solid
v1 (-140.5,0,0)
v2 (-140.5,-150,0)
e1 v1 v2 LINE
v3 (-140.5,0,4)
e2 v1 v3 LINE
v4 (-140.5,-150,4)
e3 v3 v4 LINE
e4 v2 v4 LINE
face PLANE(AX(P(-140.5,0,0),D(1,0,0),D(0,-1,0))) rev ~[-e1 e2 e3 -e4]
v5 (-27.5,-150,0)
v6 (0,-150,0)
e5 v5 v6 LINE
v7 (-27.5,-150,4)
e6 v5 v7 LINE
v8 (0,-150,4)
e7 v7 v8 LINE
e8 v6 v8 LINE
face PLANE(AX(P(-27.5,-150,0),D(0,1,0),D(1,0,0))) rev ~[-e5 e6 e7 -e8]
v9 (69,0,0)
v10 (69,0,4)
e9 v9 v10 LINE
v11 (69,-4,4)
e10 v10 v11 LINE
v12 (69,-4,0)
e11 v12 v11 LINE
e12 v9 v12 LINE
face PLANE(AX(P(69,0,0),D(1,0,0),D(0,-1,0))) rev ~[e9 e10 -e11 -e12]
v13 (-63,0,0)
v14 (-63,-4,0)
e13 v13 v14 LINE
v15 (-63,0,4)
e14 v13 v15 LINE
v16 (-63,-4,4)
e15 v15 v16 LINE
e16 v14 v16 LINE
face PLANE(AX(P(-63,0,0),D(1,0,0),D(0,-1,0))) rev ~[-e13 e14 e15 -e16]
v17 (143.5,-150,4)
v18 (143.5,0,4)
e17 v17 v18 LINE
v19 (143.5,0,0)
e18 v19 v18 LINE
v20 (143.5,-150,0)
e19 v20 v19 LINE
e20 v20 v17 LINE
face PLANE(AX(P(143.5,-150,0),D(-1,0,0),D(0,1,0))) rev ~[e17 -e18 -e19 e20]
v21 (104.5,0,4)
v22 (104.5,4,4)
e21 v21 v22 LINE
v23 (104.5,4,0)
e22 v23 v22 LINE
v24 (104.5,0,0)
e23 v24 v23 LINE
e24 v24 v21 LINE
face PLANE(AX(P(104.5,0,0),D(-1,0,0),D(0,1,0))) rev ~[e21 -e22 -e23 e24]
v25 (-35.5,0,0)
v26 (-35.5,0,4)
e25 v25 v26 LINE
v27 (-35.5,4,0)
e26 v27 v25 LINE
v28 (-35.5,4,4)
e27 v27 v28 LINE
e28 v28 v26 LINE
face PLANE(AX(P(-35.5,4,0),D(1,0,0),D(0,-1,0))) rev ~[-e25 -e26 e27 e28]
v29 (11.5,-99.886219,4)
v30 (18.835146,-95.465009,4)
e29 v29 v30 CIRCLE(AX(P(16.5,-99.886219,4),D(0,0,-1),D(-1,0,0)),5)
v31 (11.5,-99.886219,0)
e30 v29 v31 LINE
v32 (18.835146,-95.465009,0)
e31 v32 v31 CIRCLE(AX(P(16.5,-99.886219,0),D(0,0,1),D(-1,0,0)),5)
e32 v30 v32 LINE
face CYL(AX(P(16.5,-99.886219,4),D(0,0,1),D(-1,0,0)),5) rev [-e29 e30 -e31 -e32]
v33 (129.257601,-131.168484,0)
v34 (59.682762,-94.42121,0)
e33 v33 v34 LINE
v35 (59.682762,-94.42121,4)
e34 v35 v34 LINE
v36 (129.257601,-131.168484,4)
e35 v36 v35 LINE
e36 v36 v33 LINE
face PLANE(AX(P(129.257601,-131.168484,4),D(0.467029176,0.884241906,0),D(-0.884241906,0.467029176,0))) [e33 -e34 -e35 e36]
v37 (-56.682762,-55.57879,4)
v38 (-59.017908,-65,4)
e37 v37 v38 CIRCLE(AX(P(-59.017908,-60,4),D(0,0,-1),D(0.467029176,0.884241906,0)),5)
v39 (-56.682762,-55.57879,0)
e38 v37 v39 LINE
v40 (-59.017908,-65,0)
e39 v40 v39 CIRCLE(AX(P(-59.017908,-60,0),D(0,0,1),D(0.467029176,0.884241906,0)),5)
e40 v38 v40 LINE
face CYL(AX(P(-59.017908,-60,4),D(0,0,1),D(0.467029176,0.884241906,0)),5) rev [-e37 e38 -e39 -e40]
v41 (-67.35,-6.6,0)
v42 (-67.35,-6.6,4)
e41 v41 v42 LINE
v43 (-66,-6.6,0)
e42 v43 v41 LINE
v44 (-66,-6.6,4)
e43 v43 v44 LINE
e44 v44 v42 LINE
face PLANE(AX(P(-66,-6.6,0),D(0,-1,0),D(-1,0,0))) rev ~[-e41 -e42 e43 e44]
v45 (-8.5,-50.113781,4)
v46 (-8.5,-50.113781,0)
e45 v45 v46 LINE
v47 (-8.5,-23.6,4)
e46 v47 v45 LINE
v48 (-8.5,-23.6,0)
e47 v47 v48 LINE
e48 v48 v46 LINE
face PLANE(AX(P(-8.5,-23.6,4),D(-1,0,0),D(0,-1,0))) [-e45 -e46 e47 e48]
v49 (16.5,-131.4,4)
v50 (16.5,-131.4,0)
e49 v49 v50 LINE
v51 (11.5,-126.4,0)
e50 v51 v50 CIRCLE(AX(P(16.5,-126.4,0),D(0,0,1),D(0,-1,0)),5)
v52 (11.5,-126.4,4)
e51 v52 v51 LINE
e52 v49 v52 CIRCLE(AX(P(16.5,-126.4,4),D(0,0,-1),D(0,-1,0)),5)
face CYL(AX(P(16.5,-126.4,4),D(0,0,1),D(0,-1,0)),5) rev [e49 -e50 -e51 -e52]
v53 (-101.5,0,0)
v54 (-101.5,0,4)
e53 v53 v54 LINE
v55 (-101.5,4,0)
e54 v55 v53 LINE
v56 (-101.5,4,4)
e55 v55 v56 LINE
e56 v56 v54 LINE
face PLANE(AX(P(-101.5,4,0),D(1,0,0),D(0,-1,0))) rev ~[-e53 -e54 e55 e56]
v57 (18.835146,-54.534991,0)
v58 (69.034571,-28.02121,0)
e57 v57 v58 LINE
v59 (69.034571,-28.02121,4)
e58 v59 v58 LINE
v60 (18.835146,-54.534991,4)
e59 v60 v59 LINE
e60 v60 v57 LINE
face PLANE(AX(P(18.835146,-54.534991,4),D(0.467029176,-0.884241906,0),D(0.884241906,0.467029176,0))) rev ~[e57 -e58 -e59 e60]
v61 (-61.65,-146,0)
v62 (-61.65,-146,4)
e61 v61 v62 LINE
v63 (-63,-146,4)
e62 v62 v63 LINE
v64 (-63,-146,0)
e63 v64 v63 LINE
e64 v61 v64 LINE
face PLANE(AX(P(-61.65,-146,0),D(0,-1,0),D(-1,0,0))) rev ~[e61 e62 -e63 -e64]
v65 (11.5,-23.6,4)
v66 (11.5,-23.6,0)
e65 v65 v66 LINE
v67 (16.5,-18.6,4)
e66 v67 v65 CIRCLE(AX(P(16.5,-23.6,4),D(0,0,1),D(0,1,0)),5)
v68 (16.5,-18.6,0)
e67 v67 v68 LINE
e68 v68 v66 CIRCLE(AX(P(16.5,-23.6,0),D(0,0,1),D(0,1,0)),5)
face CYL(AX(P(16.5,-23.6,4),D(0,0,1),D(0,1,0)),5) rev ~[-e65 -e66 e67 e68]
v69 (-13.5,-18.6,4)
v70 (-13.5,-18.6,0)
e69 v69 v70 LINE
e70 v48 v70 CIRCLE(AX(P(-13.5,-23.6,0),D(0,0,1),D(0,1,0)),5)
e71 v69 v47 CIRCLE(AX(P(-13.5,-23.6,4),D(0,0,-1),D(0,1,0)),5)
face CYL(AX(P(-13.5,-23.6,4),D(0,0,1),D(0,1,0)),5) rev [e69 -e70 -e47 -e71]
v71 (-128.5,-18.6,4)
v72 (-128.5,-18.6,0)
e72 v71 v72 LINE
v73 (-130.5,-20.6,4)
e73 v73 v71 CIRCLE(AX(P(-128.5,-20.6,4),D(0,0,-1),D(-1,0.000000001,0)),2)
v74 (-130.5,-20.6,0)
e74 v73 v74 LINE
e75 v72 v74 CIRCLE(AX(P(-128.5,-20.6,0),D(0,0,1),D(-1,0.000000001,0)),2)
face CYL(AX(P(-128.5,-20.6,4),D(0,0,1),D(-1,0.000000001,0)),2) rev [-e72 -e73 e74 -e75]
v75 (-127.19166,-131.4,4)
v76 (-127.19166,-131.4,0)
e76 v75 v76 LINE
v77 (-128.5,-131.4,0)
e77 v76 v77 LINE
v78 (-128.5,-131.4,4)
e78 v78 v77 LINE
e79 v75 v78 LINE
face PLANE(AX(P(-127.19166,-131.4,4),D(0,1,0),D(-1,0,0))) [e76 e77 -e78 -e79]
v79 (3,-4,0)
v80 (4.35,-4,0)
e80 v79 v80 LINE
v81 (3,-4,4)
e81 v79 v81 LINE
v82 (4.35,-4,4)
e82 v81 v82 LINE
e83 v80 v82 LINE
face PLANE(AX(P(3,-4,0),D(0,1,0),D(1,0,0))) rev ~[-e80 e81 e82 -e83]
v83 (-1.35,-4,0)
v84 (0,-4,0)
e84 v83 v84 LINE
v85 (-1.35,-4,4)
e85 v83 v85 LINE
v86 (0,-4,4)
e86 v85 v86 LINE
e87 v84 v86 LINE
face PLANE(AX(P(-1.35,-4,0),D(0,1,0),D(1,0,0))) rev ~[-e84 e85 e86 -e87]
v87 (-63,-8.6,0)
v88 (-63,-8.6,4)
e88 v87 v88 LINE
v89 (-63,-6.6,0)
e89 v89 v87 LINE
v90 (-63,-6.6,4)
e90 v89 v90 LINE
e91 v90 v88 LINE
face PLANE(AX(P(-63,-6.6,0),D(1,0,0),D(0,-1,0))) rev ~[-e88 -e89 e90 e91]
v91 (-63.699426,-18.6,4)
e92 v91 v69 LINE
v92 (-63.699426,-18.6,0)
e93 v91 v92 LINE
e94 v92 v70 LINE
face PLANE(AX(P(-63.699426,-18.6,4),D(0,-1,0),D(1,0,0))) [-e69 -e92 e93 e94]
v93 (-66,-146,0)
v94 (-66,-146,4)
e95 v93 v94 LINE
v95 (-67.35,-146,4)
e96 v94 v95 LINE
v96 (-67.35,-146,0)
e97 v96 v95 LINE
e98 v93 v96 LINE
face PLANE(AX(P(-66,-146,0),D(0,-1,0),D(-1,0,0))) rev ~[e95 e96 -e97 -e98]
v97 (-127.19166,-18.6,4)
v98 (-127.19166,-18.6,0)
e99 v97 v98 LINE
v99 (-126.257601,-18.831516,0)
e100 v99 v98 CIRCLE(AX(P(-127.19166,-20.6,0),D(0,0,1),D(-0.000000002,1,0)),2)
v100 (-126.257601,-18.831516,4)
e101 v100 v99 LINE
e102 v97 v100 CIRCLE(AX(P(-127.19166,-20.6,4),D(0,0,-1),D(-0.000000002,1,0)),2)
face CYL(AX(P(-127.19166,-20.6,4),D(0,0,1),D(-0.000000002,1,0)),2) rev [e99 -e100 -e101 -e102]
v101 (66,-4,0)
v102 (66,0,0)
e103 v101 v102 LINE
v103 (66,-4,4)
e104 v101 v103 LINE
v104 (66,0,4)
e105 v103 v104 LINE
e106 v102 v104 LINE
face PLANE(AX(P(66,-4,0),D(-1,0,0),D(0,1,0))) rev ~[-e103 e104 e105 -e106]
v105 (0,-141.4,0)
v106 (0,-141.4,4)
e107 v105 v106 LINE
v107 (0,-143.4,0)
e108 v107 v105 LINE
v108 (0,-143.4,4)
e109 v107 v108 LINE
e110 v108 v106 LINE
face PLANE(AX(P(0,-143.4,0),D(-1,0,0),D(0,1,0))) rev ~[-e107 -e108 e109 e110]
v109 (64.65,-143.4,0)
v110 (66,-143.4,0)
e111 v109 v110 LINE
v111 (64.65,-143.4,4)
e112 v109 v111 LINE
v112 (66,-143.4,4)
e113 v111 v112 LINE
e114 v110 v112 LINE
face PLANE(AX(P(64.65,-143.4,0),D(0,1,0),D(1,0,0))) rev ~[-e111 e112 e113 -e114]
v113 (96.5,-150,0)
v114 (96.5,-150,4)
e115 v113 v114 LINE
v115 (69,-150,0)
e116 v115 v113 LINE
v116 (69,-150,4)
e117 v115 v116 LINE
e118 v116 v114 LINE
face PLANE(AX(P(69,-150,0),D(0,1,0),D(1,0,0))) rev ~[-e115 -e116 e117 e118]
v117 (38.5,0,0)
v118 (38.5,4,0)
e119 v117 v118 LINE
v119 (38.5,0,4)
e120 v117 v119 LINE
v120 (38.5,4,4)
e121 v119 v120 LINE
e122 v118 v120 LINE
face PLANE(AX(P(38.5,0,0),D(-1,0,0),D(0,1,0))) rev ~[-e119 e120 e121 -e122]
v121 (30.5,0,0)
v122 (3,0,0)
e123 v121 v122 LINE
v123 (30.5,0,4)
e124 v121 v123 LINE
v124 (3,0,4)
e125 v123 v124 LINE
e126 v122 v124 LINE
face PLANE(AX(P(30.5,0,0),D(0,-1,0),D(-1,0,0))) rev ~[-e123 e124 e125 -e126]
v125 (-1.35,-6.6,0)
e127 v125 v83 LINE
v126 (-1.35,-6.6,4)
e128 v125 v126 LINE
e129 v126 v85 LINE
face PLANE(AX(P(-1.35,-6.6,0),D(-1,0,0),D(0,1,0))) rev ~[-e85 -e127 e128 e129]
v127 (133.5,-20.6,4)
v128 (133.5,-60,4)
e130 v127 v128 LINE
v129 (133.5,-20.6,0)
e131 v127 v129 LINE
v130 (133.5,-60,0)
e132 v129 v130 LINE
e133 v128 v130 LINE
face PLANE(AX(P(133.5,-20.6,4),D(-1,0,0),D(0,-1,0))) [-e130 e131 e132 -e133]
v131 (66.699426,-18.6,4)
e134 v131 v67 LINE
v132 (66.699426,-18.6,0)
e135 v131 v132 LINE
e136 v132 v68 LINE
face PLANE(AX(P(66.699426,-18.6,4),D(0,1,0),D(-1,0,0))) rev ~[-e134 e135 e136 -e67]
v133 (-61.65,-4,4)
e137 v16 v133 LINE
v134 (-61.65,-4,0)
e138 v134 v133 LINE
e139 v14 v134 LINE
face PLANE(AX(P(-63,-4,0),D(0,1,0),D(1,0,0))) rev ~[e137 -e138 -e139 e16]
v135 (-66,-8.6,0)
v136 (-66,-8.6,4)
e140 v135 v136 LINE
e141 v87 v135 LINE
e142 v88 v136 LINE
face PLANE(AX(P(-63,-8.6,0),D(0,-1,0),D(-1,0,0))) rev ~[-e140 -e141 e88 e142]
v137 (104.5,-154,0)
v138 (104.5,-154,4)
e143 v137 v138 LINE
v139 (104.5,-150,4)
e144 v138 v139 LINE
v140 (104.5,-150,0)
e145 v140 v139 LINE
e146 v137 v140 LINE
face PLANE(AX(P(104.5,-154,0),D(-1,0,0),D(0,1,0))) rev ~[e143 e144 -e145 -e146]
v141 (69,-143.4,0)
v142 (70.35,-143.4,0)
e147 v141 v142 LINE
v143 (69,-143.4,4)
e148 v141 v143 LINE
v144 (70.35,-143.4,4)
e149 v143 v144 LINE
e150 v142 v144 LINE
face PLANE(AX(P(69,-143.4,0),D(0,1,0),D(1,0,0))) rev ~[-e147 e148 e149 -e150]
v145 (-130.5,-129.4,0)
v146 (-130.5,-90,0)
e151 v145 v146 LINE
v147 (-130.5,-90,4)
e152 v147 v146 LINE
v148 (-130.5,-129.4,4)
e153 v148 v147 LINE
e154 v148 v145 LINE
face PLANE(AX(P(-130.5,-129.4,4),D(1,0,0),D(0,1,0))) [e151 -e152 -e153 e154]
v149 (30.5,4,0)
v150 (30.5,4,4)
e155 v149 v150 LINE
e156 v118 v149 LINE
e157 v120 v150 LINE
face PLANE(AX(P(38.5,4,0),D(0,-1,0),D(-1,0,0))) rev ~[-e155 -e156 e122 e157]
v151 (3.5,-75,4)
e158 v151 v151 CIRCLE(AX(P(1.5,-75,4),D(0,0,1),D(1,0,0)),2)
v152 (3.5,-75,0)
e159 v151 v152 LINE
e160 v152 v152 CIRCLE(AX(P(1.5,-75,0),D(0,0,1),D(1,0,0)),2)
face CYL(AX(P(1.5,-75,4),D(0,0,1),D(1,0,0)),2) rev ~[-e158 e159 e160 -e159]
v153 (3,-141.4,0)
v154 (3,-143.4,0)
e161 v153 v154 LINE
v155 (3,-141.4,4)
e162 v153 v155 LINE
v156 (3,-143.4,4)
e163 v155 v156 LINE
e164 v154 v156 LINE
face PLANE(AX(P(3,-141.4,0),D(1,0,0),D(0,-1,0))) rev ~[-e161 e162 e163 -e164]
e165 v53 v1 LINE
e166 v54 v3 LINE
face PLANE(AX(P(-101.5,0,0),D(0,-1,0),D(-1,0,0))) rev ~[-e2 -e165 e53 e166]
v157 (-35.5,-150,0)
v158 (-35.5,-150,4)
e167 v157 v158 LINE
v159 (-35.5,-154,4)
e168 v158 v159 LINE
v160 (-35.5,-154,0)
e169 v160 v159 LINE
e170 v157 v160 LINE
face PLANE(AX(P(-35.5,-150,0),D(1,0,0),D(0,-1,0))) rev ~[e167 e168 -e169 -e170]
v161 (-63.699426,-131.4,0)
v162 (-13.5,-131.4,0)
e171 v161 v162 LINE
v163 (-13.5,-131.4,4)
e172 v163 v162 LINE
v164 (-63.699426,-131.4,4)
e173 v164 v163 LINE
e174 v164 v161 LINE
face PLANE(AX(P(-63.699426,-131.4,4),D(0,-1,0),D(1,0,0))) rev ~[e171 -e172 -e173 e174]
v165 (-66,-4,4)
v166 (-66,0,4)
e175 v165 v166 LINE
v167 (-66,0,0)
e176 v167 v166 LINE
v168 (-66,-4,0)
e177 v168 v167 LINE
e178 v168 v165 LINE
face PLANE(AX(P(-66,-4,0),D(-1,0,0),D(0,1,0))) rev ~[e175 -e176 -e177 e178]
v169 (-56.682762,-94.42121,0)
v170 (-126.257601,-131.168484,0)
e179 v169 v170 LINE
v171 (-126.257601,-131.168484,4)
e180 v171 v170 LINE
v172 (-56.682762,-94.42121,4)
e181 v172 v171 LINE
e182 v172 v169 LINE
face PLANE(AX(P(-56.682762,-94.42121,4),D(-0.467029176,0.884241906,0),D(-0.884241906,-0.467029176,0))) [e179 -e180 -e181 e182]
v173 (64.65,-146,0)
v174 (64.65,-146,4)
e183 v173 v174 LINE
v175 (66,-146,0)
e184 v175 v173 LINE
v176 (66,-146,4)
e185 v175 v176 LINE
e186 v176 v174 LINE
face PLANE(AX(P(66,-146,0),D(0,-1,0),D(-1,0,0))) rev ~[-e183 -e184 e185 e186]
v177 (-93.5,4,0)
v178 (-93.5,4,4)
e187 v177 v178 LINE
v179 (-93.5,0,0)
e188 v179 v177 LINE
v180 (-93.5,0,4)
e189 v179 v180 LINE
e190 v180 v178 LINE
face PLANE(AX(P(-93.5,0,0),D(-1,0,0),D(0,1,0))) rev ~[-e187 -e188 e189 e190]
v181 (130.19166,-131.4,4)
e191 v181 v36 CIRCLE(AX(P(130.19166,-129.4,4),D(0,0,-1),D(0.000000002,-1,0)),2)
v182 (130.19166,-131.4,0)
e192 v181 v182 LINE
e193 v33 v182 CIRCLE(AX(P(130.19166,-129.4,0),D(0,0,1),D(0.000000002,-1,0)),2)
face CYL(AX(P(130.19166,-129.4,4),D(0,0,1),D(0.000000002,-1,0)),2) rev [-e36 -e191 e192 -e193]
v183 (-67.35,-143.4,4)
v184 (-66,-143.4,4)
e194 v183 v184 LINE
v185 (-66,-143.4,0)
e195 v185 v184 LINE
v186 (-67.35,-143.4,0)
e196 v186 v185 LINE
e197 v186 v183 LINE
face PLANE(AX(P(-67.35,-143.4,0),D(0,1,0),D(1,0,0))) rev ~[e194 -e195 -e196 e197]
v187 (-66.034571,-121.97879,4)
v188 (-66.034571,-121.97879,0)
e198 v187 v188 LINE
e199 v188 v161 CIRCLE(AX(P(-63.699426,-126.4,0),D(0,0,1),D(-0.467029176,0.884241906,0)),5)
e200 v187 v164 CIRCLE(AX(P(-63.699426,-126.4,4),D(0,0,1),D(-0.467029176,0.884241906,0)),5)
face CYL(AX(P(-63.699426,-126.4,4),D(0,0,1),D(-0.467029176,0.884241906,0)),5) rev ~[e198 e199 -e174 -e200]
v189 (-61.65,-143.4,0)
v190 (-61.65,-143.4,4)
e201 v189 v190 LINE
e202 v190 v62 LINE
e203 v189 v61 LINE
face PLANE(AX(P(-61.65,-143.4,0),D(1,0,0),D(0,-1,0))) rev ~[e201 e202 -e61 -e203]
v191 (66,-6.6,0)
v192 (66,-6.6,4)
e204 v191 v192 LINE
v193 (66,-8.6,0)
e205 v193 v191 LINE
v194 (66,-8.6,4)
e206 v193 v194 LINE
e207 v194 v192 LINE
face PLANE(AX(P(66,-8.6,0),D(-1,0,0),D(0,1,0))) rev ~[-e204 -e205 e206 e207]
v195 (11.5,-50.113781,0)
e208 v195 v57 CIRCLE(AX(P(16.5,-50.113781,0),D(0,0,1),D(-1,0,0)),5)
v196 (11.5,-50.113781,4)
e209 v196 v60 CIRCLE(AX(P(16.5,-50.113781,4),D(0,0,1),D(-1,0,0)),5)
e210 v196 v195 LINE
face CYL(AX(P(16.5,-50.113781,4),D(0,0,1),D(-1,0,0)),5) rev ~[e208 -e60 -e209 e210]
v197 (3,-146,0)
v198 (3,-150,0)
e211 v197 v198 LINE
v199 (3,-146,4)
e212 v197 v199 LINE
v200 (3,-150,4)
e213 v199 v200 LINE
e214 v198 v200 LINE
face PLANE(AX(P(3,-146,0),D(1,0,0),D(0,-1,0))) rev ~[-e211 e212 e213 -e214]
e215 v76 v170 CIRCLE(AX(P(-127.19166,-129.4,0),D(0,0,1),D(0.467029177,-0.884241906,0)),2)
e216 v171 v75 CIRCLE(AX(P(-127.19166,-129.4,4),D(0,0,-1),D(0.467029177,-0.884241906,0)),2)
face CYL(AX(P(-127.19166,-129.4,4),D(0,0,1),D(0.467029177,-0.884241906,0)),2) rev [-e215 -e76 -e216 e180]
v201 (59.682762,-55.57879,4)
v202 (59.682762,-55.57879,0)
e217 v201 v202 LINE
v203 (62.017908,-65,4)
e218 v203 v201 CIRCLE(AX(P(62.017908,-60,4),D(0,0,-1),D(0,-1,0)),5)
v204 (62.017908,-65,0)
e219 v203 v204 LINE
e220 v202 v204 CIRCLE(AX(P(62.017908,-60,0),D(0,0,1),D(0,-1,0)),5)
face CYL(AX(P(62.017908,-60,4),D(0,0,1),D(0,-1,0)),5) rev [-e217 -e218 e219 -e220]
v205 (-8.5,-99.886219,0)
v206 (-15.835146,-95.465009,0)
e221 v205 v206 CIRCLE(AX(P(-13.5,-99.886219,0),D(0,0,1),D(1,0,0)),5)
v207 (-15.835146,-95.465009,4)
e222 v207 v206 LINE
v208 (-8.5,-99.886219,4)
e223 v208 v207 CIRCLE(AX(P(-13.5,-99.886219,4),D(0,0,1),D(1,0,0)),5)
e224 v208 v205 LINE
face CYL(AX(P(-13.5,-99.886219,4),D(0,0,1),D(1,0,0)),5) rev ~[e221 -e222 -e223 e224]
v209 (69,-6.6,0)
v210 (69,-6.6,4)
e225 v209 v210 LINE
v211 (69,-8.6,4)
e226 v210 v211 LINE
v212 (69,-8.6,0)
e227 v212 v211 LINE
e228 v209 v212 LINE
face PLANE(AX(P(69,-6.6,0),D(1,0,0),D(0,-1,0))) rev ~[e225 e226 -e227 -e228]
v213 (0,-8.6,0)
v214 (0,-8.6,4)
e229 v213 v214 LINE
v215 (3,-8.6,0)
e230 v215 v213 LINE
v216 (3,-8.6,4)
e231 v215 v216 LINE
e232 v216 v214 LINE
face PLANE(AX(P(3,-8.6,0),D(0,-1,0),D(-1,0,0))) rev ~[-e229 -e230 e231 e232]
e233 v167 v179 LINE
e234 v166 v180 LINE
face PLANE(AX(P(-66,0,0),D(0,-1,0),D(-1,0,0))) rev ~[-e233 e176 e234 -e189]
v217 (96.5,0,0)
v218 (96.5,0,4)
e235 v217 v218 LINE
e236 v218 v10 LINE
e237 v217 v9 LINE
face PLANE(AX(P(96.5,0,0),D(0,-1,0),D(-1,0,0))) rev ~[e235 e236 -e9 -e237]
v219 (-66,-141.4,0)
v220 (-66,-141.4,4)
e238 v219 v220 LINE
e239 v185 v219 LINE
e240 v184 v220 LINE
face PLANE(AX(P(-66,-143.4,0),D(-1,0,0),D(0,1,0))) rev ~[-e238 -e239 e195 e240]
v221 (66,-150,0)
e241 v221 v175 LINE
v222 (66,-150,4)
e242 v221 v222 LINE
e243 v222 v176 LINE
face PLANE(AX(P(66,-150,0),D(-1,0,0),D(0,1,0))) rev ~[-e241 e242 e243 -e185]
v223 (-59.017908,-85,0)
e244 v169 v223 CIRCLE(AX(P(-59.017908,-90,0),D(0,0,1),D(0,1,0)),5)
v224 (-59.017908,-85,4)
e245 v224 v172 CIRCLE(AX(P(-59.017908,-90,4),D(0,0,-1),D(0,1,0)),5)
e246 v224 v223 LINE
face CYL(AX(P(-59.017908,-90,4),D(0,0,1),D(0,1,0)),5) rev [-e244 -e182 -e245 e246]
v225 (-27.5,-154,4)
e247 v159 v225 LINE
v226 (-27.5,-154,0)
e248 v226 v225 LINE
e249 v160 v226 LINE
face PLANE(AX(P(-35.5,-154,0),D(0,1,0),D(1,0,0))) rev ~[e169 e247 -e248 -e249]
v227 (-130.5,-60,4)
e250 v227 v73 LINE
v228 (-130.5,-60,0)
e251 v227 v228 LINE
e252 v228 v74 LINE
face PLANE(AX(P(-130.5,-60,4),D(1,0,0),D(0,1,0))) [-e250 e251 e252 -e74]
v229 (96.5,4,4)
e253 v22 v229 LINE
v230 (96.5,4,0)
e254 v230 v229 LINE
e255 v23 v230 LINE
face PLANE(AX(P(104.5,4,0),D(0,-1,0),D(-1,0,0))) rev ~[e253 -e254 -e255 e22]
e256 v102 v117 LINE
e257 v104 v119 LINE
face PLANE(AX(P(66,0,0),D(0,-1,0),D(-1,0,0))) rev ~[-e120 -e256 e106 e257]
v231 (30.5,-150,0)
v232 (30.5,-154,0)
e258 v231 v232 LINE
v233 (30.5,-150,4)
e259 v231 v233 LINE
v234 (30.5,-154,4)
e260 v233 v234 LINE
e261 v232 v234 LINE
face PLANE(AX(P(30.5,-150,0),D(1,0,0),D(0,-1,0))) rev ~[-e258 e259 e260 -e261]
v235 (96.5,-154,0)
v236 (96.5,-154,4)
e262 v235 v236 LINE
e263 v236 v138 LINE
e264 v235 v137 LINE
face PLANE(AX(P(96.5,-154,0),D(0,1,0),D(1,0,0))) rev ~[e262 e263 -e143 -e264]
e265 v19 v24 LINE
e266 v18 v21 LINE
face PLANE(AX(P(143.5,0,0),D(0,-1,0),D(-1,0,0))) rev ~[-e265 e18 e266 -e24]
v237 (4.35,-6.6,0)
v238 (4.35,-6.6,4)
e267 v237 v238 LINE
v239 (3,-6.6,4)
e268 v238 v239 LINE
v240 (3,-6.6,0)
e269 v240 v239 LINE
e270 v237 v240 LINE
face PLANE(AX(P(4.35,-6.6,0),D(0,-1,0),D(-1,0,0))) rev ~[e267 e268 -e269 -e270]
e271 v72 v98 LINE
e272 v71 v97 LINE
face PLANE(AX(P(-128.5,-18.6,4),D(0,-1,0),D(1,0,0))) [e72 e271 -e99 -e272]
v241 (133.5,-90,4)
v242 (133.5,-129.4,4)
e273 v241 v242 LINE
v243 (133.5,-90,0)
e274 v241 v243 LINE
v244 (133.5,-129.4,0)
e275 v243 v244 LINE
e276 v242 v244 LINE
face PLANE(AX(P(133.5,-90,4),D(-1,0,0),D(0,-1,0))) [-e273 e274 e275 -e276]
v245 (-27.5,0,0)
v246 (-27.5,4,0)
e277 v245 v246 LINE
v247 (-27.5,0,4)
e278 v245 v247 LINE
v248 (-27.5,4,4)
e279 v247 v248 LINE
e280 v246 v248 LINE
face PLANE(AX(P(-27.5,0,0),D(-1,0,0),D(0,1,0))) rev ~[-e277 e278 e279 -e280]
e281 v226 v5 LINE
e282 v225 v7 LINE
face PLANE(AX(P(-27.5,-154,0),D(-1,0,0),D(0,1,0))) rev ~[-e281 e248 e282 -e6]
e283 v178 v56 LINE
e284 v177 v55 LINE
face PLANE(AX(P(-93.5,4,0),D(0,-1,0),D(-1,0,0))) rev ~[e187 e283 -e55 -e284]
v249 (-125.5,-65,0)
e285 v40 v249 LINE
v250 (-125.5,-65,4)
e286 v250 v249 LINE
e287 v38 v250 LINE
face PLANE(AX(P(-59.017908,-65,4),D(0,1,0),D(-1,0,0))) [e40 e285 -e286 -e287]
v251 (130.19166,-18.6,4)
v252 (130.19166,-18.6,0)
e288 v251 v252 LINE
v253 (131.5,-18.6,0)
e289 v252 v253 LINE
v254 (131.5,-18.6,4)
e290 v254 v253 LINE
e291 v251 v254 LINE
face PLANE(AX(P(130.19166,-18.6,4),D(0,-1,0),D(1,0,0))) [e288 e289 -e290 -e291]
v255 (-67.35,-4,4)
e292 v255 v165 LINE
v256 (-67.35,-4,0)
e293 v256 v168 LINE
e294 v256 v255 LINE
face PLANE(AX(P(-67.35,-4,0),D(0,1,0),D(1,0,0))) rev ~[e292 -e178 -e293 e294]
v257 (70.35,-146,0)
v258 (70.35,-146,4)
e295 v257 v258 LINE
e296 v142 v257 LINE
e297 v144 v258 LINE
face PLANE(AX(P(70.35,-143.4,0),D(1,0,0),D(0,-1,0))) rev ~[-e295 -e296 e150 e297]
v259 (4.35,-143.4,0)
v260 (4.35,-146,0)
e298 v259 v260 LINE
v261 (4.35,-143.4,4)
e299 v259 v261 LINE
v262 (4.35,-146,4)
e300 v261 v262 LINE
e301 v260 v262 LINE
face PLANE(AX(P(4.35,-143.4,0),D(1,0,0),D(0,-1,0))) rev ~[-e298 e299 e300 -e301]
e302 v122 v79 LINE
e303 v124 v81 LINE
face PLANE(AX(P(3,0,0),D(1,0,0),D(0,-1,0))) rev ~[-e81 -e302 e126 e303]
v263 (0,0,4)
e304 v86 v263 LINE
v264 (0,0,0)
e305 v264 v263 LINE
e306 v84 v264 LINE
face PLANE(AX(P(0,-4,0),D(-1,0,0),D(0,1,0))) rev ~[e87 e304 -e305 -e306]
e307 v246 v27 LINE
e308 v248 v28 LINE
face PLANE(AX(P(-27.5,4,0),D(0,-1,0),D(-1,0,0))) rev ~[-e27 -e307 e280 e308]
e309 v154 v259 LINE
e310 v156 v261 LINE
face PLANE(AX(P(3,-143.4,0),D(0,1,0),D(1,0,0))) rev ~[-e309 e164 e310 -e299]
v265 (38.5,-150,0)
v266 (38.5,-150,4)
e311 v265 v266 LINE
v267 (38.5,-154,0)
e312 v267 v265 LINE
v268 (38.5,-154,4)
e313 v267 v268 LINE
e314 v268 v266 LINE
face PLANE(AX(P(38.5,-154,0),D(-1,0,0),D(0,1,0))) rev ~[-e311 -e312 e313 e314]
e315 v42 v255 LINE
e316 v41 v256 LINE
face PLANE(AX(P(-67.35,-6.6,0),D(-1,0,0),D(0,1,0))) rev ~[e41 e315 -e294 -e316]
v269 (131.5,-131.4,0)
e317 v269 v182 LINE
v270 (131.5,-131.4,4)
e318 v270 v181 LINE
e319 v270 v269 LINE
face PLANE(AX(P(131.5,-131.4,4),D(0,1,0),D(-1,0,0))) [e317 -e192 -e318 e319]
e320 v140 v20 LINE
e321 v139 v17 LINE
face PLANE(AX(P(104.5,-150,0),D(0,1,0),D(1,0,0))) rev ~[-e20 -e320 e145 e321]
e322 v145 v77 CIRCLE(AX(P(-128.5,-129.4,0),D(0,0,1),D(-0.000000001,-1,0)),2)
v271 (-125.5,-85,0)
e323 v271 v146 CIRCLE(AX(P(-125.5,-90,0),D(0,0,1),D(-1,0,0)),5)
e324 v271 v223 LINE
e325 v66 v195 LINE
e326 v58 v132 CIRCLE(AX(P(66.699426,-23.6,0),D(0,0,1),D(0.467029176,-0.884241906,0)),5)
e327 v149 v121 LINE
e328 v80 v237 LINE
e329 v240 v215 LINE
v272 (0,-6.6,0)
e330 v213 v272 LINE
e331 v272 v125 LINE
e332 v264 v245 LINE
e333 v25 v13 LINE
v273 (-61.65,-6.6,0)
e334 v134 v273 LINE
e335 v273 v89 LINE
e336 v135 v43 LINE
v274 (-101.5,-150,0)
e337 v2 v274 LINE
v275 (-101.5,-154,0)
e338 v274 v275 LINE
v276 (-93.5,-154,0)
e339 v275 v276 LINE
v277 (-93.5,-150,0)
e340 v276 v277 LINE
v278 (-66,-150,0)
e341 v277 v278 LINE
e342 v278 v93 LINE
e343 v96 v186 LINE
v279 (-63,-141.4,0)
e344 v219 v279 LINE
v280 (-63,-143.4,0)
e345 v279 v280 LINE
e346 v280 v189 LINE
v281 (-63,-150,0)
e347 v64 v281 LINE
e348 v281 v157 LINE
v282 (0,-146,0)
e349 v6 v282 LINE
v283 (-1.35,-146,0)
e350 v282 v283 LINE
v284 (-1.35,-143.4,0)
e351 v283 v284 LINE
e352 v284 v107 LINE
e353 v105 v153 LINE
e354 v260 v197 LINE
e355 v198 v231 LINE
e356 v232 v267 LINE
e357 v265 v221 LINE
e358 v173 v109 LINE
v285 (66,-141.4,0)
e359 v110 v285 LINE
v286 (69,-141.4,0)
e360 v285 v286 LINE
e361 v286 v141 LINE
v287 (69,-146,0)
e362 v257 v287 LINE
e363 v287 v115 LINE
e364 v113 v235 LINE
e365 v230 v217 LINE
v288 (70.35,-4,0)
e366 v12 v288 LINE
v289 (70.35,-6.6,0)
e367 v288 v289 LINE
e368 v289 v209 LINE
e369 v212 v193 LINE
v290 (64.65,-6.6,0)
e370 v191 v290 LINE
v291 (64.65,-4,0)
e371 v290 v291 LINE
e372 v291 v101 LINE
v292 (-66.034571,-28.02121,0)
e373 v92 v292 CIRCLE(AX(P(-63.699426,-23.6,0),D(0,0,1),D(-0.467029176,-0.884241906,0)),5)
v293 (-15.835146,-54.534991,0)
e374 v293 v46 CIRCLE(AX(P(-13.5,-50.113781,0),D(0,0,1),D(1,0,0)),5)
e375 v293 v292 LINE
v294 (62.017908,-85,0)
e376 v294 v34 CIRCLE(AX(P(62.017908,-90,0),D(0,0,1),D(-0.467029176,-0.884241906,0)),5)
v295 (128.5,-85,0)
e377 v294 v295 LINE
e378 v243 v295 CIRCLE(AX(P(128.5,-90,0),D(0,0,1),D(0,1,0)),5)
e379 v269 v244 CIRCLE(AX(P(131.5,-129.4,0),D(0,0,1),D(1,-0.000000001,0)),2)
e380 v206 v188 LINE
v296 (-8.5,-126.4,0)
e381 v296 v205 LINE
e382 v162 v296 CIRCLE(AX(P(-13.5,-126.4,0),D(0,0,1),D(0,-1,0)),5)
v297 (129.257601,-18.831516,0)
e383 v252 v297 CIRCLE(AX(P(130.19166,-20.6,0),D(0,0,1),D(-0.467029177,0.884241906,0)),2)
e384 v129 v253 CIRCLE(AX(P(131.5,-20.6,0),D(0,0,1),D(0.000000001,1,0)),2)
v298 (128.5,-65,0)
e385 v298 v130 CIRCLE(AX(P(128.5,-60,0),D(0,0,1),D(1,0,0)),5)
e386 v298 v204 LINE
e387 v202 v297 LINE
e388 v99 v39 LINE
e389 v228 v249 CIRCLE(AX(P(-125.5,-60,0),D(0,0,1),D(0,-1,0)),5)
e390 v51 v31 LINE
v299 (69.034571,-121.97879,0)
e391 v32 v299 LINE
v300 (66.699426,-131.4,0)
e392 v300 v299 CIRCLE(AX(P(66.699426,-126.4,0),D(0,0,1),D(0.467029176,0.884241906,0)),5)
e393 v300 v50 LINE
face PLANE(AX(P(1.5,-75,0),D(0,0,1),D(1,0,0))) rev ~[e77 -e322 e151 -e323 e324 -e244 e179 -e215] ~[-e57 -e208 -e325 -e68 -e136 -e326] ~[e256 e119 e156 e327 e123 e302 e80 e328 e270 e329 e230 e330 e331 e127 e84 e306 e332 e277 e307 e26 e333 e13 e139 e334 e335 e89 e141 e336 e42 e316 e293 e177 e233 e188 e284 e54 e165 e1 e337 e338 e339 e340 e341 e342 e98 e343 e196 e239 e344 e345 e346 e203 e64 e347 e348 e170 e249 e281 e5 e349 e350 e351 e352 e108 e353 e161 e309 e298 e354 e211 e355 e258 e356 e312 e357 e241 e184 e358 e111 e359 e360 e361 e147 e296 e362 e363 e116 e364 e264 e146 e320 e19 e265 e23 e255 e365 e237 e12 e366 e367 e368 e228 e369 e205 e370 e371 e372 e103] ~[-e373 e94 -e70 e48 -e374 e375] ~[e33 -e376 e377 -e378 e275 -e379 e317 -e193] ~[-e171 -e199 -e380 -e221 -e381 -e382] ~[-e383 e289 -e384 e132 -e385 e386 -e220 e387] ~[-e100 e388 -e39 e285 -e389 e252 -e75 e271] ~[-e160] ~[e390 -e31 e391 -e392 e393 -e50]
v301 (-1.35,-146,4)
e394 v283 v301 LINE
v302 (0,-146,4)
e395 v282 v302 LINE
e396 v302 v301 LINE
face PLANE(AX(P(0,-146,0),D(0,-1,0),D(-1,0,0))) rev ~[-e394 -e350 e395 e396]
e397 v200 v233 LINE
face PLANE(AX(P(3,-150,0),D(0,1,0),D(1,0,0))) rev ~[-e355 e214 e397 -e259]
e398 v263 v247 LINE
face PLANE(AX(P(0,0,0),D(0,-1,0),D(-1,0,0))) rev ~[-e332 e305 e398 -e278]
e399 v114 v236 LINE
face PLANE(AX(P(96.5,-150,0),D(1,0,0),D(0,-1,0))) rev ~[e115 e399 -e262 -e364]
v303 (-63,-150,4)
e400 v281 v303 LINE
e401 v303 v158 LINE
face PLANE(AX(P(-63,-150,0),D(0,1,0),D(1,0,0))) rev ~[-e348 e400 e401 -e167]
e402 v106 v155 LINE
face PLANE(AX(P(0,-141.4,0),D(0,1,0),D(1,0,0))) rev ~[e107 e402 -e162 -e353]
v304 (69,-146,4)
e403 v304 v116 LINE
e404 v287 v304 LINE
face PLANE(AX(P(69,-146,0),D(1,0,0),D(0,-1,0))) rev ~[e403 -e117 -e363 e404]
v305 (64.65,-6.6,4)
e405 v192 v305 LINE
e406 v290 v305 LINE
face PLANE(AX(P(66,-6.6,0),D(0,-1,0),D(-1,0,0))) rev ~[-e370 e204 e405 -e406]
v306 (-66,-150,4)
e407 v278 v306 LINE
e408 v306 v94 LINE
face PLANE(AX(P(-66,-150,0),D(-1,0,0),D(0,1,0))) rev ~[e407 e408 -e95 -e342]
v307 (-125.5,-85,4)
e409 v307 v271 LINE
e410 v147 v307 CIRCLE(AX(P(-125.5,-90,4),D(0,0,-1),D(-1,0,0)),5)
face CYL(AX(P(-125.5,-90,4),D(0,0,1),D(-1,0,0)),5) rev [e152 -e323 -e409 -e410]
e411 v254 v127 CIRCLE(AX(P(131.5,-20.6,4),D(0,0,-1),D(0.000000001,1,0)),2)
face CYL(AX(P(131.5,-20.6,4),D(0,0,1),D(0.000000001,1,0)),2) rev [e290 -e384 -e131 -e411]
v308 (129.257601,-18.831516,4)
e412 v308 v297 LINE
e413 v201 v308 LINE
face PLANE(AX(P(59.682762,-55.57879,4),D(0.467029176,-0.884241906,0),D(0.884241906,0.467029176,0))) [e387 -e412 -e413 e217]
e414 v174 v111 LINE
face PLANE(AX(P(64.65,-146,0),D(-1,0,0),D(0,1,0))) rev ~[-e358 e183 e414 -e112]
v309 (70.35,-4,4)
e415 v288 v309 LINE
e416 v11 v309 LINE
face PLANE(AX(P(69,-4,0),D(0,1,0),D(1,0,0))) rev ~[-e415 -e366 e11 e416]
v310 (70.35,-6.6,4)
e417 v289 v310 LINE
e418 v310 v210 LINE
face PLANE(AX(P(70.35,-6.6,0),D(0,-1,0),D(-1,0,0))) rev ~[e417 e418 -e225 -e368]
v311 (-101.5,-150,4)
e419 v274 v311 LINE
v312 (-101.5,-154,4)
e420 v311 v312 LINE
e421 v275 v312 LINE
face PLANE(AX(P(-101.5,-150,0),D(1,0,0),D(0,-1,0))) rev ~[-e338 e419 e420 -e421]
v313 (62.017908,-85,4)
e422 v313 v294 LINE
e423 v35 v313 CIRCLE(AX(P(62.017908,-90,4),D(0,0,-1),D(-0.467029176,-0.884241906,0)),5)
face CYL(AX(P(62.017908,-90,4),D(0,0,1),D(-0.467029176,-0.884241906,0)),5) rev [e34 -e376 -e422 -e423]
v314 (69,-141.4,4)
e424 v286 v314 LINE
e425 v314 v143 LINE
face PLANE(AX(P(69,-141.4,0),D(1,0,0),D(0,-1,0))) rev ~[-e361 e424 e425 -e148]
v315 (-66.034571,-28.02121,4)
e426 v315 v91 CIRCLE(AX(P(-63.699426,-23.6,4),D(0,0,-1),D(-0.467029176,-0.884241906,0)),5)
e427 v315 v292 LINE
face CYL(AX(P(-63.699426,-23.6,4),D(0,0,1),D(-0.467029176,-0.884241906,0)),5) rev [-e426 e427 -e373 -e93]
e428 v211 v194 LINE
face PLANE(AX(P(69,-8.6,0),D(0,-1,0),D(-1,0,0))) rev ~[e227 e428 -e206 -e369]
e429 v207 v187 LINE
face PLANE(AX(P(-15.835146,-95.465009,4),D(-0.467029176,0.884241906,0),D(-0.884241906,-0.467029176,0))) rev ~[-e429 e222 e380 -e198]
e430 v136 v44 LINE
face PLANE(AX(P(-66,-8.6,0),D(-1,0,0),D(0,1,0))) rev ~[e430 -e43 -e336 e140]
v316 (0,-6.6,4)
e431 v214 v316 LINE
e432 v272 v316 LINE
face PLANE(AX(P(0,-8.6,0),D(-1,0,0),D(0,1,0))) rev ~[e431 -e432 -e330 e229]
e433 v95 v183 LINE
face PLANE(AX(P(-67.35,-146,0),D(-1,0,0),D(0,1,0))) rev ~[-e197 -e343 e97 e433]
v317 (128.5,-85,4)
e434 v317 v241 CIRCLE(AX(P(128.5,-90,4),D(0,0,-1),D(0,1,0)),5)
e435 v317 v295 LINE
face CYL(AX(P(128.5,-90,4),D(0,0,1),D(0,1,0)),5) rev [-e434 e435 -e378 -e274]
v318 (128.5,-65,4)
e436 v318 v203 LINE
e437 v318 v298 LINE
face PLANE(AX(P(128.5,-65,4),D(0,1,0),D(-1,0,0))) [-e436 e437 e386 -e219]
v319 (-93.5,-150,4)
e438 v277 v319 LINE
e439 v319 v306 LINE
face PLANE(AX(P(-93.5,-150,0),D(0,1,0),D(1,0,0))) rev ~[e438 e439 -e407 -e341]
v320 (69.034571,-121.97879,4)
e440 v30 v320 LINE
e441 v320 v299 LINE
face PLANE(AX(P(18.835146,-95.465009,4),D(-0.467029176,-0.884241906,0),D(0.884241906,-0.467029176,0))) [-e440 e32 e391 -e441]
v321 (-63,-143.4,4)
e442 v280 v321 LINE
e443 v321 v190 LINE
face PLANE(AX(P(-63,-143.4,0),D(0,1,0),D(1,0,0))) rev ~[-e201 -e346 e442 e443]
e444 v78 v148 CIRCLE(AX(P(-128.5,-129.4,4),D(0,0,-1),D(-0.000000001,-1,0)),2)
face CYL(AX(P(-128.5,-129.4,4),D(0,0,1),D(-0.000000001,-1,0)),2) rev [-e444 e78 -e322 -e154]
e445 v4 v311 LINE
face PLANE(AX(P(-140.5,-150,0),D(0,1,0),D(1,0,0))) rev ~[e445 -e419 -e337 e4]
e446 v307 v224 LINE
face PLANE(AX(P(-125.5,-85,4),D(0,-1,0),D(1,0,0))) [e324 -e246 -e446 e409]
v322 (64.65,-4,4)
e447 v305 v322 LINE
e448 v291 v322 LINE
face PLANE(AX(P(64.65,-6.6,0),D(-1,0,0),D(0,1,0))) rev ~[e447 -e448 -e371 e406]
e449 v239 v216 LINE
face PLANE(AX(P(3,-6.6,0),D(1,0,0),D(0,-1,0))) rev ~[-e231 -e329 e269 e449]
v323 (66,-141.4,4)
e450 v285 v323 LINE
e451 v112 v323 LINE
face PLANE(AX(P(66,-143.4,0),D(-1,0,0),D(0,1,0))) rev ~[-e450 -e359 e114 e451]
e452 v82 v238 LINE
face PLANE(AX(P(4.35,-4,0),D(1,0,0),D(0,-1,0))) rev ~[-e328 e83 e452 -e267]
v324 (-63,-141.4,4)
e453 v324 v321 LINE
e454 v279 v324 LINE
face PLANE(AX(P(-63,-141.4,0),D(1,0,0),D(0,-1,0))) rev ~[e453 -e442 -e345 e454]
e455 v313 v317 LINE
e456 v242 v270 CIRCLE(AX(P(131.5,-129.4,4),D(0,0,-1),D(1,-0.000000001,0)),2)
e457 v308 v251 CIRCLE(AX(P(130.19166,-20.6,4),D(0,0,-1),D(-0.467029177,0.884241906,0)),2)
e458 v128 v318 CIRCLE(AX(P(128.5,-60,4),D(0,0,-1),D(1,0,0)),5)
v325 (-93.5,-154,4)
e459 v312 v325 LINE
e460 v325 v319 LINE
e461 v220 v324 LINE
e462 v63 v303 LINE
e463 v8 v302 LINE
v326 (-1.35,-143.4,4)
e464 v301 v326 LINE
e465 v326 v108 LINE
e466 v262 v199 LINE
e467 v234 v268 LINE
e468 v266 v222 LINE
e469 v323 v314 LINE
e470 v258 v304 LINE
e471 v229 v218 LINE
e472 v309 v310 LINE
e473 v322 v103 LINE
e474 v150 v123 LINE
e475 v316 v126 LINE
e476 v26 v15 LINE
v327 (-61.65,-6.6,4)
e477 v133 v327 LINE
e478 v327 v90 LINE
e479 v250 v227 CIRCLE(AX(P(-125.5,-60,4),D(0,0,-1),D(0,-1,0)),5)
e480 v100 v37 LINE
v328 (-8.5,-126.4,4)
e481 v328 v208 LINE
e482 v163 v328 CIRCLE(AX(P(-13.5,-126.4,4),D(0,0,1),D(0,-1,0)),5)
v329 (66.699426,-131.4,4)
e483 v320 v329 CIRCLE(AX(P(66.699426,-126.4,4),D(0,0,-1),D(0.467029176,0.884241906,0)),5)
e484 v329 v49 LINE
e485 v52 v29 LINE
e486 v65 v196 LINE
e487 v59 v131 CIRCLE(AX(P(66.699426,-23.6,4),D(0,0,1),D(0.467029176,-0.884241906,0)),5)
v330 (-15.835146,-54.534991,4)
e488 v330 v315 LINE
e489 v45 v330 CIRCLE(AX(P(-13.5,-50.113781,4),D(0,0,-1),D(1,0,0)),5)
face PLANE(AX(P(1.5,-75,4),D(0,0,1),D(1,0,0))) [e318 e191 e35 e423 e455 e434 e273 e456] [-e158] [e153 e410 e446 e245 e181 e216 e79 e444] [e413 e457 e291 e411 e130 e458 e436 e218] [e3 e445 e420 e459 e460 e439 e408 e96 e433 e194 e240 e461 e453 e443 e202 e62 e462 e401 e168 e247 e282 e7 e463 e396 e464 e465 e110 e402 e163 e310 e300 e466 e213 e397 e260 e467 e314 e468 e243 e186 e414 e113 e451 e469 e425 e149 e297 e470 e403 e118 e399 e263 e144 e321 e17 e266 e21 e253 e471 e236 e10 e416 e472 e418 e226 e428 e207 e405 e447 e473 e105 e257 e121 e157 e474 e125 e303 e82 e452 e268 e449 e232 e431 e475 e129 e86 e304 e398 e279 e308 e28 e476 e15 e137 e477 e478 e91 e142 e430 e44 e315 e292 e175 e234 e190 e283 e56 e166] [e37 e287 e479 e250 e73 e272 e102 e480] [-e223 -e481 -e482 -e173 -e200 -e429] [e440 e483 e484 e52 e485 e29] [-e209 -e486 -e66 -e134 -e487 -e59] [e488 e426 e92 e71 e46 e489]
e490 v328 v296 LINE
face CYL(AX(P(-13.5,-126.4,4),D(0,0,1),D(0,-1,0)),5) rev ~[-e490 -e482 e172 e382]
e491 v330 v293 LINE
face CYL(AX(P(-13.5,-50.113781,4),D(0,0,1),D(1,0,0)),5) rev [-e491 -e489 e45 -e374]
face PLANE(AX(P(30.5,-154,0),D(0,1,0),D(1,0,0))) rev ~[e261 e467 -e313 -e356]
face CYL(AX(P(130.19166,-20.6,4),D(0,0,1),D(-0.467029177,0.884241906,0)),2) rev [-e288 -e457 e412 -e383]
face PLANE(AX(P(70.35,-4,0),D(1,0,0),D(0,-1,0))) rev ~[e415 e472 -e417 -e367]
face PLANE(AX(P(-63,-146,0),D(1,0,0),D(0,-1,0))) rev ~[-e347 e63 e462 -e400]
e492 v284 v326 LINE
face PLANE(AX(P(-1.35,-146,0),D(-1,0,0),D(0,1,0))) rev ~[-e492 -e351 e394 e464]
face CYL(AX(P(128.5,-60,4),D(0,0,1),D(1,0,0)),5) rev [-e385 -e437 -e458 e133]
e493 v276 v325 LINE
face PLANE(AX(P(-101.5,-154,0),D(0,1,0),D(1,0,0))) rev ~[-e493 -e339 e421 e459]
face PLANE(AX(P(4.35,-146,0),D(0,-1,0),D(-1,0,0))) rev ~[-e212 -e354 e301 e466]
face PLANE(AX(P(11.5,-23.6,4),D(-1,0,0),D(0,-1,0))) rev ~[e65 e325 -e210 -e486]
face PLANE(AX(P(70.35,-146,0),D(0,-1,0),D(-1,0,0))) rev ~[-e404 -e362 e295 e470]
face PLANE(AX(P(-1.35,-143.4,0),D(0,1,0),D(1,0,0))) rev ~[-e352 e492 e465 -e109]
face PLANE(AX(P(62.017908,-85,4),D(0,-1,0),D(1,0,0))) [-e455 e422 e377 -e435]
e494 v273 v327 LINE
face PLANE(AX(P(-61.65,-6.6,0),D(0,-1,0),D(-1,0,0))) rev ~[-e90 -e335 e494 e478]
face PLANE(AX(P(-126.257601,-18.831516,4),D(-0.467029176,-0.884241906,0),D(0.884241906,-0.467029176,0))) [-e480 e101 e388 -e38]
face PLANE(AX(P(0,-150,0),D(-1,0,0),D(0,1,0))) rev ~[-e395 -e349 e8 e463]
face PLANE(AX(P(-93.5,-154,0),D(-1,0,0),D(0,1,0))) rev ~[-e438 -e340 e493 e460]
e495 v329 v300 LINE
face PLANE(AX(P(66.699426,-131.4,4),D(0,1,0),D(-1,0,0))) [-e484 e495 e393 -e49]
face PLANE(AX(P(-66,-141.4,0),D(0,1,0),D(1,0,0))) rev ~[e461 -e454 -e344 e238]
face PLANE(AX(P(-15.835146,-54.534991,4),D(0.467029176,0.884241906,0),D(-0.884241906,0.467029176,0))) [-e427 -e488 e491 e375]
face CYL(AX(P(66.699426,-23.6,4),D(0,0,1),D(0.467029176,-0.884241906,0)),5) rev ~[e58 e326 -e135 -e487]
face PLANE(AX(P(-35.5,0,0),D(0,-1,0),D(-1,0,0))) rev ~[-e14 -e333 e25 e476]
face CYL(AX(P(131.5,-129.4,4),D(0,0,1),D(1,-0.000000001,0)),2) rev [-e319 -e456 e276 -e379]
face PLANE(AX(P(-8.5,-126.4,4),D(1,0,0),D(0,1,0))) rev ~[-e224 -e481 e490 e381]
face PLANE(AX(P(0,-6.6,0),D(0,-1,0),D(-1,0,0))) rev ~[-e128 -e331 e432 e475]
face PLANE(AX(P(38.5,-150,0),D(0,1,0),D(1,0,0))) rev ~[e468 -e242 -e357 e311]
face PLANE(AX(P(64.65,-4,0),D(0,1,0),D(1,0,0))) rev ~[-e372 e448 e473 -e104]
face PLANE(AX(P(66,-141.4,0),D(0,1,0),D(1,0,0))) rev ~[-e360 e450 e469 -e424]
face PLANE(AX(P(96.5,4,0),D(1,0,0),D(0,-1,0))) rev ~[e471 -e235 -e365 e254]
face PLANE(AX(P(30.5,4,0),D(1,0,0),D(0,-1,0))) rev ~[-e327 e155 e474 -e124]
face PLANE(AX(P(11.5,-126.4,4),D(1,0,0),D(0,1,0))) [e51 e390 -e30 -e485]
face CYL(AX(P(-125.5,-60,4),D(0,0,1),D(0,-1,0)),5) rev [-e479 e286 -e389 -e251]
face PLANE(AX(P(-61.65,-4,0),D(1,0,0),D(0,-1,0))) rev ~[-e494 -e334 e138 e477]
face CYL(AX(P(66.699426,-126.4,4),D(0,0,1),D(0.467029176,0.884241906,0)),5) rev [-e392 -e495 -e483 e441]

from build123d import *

# Parameters (mm, degrees)
EXTRUDE_1_DEPTH     = 4
SKETCH_4_R          = 2
CUT_EXTRUDE_1_DEPTH = 10


with BuildPart() as part:
    # 草图1 → 凸台-拉伸1 (new body)
    with BuildSketch(Plane.XY):
        Polygon((0, -4), (0, 0), (-27.5, 0), (-27.5, 4), (-35.5, 4), (-35.5, 0), (-63, 0), (-63, -4), (-61.65, -4), (-61.65, -6.6), (-63, -6.6), (-63, -8.6), (-66, -8.6), (-66, -6.6), (-67.35, -6.6), (-67.35, -4), (-66, -4), (-66, 0), (-93.5, 0), (-93.5, 4), (-101.5, 4), (-101.5, 0), (-129, 0), (-140.5, 0), (-140.5, -150), (-129, -150), (-101.5, -150), (-101.5, -154), (-93.5, -154), (-93.5, -150), (-66, -150), (-66, -146), (-67.35, -146), (-67.35, -143.4), (-66, -143.4), (-66, -141.4), (-63, -141.4), (-63, -143.4), (-61.65, -143.4), (-61.65, -146), (-63, -146), (-63, -150), (-35.5, -150), (-35.5, -154), (-27.5, -154), (-27.5, -150), (0, -150), (0, -146), (-1.35, -146), (-1.35, -143.4), (0, -143.4), (0, -141.4), (3, -141.4), (3, -143.4), (4.35, -143.4), (4.35, -146), (3, -146), (3, -150), (30.5, -150), (30.5, -154), (38.5, -154), (38.5, -150), (66, -150), (66, -146), (64.65, -146), (64.65, -143.4), (66, -143.4), (66, -141.4), (69, -141.4), (69, -143.4), (70.35, -143.4), (70.35, -146), (69, -146), (69, -150), (96.5, -150), (96.5, -154), (104.5, -154), (104.5, -150), (132, -150), (143.5, -150), (143.5, 0), (132, 0), (104.5, 0), (104.5, 4), (96.5, 4), (96.5, 0), (69, 0), (69, -4), (70.35, -4), (70.35, -6.6), (69, -6.6), (69, -8.6), (66, -8.6), (66, -6.6), (64.65, -6.6), (64.65, -4), (66, -4), (66, 0), (38.5, 0), (38.5, 4), (30.5, 4), (30.5, 0), (3, 0), (3, -4), (4.35, -4), (4.35, -6.6), (3, -6.6), (3, -8.6), (0, -8.6), (0, -6.6), (-1.35, -6.6), (-1.35, -4), align=None)
    extrude(amount=EXTRUDE_1_DEPTH)

    # 草图4 → 切除-拉伸1 (cut)
    with BuildSketch(Plane.XY.offset(4)):
        with BuildLine():
            ThreePointArc((-127.191659555, -18.6), (-126.710498265, -18.658741693), (-126.257601204, -18.831516187))
            Line((-126.257601204, -18.831516187), (-56.682761898, -55.578790468))
            ThreePointArc((-56.682761898, -55.578790468), (-54.164762011, -61.202903226), (-59.017907777, -65))
            Line((-59.017907777, -65), (-125.5, -65))
            ThreePointArc((-125.5, -65), (-129.035533906, -63.535533906), (-130.5, -60))
            Line((-130.5, -60), (-130.5, -20.6))
            ThreePointArc((-130.5, -20.6), (-129.914213562, -19.185786438), (-128.5, -18.6))
            Line((-128.5, -18.6), (-127.191659555, -18.6))
        make_face()
        with BuildLine():
            ThreePointArc((-130.5, -90), (-129.035533906, -86.464466094), (-125.5, -85))
            Line((-125.5, -85), (-59.017907777, -85))
            ThreePointArc((-59.017907777, -85), (-54.164762011, -88.797096774), (-56.682761898, -94.421209532))
            Line((-56.682761898, -94.421209532), (-126.257601204, -131.168483813))
            ThreePointArc((-126.257601204, -131.168483813), (-126.710498265, -131.341258307), (-127.191659555, -131.4))
            Line((-127.191659555, -131.4), (-128.5, -131.4))
            ThreePointArc((-128.5, -131.4), (-129.914213562, -130.814213562), (-130.5, -129.4))
            Line((-130.5, -129.4), (-130.5, -90))
        make_face()
        with BuildLine():
            Line((-15.835145879, -95.465009365), (-66.034571435, -121.978790468))
            ThreePointArc((-66.034571435, -121.978790468), (-68.552571322, -127.602903226), (-63.699425556, -131.4))
            Line((-63.699425556, -131.4), (-13.5, -131.4))
            ThreePointArc((-13.5, -131.4), (-9.964466094, -129.935533906), (-8.5, -126.4))
            Line((-8.5, -126.4), (-8.5, -99.886218897))
            ThreePointArc((-8.5, -99.886218897), (-10.918888747, -95.603945587), (-15.835145879, -95.465009365))
        make_face()
        with BuildLine():
            Line((18.835145879, -95.465009365), (69.034571435, -121.978790468))
            ThreePointArc((69.034571435, -121.978790468), (71.552571322, -127.602903226), (66.699425556, -131.4))
            Line((66.699425556, -131.4), (16.5, -131.4))
            ThreePointArc((16.5, -131.4), (12.964466094, -129.935533906), (11.5, -126.4))
            Line((11.5, -126.4), (11.5, -99.886218897))
            ThreePointArc((11.5, -99.886218897), (13.918888747, -95.603945587), (18.835145879, -95.465009365))
        make_face()
        with BuildLine():
            ThreePointArc((130.191659555, -131.4), (129.710498265, -131.341258307), (129.257601204, -131.168483813))
            Line((129.257601204, -131.168483813), (59.682761898, -94.421209532))
            ThreePointArc((59.682761898, -94.421209532), (57.164762011, -88.797096774), (62.017907777, -85))
            Line((62.017907777, -85), (128.5, -85))
            ThreePointArc((128.5, -85), (132.035533906, -86.464466094), (133.5, -90))
            Line((133.5, -90), (133.5, -129.4))
            ThreePointArc((133.5, -129.4), (132.914213562, -130.814213562), (131.5, -131.4))
            Line((131.5, -131.4), (130.191659555, -131.4))
        make_face()
        with BuildLine():
            ThreePointArc((133.5, -60), (132.035533906, -63.535533906), (128.5, -65))
            Line((128.5, -65), (62.017907777, -65))
            ThreePointArc((62.017907777, -65), (57.164762011, -61.202903226), (59.682761898, -55.578790468))
            Line((59.682761898, -55.578790468), (129.257601204, -18.831516187))
            ThreePointArc((129.257601204, -18.831516187), (129.710498265, -18.658741693), (130.191659555, -18.6))
            Line((130.191659555, -18.6), (131.5, -18.6))
            ThreePointArc((131.5, -18.6), (132.914213562, -19.185786438), (133.5, -20.6))
            Line((133.5, -20.6), (133.5, -60))
        make_face()
        with BuildLine():
            Line((18.835145879, -54.534990635), (69.034571435, -28.021209532))
            ThreePointArc((69.034571435, -28.021209532), (71.552571322, -22.397096774), (66.699425556, -18.6))
            Line((66.699425556, -18.6), (16.5, -18.6))
            ThreePointArc((16.5, -18.6), (12.964466094, -20.064466094), (11.5, -23.6))
            Line((11.5, -23.6), (11.5, -50.113781103))
            ThreePointArc((11.5, -50.113781103), (13.918888747, -54.396054413), (18.835145879, -54.534990635))
        make_face()
        with BuildLine():
            Line((-15.835145879, -54.534990635), (-66.034571435, -28.021209532))
            ThreePointArc((-66.034571435, -28.021209532), (-68.552571322, -22.397096774), (-63.699425556, -18.6))
            Line((-63.699425556, -18.6), (-13.5, -18.6))
            ThreePointArc((-13.5, -18.6), (-9.964466094, -20.064466094), (-8.5, -23.6))
            Line((-8.5, -23.6), (-8.5, -50.113781103))
            ThreePointArc((-8.5, -50.113781103), (-10.918888747, -54.396054413), (-15.835145879, -54.534990635))
        make_face()
        with Locations((1.5, -75)):
            Circle(SKETCH_4_R)
    extrude(amount=-CUT_EXTRUDE_1_DEPTH, mode=Mode.SUBTRACT)


solid = part.part
